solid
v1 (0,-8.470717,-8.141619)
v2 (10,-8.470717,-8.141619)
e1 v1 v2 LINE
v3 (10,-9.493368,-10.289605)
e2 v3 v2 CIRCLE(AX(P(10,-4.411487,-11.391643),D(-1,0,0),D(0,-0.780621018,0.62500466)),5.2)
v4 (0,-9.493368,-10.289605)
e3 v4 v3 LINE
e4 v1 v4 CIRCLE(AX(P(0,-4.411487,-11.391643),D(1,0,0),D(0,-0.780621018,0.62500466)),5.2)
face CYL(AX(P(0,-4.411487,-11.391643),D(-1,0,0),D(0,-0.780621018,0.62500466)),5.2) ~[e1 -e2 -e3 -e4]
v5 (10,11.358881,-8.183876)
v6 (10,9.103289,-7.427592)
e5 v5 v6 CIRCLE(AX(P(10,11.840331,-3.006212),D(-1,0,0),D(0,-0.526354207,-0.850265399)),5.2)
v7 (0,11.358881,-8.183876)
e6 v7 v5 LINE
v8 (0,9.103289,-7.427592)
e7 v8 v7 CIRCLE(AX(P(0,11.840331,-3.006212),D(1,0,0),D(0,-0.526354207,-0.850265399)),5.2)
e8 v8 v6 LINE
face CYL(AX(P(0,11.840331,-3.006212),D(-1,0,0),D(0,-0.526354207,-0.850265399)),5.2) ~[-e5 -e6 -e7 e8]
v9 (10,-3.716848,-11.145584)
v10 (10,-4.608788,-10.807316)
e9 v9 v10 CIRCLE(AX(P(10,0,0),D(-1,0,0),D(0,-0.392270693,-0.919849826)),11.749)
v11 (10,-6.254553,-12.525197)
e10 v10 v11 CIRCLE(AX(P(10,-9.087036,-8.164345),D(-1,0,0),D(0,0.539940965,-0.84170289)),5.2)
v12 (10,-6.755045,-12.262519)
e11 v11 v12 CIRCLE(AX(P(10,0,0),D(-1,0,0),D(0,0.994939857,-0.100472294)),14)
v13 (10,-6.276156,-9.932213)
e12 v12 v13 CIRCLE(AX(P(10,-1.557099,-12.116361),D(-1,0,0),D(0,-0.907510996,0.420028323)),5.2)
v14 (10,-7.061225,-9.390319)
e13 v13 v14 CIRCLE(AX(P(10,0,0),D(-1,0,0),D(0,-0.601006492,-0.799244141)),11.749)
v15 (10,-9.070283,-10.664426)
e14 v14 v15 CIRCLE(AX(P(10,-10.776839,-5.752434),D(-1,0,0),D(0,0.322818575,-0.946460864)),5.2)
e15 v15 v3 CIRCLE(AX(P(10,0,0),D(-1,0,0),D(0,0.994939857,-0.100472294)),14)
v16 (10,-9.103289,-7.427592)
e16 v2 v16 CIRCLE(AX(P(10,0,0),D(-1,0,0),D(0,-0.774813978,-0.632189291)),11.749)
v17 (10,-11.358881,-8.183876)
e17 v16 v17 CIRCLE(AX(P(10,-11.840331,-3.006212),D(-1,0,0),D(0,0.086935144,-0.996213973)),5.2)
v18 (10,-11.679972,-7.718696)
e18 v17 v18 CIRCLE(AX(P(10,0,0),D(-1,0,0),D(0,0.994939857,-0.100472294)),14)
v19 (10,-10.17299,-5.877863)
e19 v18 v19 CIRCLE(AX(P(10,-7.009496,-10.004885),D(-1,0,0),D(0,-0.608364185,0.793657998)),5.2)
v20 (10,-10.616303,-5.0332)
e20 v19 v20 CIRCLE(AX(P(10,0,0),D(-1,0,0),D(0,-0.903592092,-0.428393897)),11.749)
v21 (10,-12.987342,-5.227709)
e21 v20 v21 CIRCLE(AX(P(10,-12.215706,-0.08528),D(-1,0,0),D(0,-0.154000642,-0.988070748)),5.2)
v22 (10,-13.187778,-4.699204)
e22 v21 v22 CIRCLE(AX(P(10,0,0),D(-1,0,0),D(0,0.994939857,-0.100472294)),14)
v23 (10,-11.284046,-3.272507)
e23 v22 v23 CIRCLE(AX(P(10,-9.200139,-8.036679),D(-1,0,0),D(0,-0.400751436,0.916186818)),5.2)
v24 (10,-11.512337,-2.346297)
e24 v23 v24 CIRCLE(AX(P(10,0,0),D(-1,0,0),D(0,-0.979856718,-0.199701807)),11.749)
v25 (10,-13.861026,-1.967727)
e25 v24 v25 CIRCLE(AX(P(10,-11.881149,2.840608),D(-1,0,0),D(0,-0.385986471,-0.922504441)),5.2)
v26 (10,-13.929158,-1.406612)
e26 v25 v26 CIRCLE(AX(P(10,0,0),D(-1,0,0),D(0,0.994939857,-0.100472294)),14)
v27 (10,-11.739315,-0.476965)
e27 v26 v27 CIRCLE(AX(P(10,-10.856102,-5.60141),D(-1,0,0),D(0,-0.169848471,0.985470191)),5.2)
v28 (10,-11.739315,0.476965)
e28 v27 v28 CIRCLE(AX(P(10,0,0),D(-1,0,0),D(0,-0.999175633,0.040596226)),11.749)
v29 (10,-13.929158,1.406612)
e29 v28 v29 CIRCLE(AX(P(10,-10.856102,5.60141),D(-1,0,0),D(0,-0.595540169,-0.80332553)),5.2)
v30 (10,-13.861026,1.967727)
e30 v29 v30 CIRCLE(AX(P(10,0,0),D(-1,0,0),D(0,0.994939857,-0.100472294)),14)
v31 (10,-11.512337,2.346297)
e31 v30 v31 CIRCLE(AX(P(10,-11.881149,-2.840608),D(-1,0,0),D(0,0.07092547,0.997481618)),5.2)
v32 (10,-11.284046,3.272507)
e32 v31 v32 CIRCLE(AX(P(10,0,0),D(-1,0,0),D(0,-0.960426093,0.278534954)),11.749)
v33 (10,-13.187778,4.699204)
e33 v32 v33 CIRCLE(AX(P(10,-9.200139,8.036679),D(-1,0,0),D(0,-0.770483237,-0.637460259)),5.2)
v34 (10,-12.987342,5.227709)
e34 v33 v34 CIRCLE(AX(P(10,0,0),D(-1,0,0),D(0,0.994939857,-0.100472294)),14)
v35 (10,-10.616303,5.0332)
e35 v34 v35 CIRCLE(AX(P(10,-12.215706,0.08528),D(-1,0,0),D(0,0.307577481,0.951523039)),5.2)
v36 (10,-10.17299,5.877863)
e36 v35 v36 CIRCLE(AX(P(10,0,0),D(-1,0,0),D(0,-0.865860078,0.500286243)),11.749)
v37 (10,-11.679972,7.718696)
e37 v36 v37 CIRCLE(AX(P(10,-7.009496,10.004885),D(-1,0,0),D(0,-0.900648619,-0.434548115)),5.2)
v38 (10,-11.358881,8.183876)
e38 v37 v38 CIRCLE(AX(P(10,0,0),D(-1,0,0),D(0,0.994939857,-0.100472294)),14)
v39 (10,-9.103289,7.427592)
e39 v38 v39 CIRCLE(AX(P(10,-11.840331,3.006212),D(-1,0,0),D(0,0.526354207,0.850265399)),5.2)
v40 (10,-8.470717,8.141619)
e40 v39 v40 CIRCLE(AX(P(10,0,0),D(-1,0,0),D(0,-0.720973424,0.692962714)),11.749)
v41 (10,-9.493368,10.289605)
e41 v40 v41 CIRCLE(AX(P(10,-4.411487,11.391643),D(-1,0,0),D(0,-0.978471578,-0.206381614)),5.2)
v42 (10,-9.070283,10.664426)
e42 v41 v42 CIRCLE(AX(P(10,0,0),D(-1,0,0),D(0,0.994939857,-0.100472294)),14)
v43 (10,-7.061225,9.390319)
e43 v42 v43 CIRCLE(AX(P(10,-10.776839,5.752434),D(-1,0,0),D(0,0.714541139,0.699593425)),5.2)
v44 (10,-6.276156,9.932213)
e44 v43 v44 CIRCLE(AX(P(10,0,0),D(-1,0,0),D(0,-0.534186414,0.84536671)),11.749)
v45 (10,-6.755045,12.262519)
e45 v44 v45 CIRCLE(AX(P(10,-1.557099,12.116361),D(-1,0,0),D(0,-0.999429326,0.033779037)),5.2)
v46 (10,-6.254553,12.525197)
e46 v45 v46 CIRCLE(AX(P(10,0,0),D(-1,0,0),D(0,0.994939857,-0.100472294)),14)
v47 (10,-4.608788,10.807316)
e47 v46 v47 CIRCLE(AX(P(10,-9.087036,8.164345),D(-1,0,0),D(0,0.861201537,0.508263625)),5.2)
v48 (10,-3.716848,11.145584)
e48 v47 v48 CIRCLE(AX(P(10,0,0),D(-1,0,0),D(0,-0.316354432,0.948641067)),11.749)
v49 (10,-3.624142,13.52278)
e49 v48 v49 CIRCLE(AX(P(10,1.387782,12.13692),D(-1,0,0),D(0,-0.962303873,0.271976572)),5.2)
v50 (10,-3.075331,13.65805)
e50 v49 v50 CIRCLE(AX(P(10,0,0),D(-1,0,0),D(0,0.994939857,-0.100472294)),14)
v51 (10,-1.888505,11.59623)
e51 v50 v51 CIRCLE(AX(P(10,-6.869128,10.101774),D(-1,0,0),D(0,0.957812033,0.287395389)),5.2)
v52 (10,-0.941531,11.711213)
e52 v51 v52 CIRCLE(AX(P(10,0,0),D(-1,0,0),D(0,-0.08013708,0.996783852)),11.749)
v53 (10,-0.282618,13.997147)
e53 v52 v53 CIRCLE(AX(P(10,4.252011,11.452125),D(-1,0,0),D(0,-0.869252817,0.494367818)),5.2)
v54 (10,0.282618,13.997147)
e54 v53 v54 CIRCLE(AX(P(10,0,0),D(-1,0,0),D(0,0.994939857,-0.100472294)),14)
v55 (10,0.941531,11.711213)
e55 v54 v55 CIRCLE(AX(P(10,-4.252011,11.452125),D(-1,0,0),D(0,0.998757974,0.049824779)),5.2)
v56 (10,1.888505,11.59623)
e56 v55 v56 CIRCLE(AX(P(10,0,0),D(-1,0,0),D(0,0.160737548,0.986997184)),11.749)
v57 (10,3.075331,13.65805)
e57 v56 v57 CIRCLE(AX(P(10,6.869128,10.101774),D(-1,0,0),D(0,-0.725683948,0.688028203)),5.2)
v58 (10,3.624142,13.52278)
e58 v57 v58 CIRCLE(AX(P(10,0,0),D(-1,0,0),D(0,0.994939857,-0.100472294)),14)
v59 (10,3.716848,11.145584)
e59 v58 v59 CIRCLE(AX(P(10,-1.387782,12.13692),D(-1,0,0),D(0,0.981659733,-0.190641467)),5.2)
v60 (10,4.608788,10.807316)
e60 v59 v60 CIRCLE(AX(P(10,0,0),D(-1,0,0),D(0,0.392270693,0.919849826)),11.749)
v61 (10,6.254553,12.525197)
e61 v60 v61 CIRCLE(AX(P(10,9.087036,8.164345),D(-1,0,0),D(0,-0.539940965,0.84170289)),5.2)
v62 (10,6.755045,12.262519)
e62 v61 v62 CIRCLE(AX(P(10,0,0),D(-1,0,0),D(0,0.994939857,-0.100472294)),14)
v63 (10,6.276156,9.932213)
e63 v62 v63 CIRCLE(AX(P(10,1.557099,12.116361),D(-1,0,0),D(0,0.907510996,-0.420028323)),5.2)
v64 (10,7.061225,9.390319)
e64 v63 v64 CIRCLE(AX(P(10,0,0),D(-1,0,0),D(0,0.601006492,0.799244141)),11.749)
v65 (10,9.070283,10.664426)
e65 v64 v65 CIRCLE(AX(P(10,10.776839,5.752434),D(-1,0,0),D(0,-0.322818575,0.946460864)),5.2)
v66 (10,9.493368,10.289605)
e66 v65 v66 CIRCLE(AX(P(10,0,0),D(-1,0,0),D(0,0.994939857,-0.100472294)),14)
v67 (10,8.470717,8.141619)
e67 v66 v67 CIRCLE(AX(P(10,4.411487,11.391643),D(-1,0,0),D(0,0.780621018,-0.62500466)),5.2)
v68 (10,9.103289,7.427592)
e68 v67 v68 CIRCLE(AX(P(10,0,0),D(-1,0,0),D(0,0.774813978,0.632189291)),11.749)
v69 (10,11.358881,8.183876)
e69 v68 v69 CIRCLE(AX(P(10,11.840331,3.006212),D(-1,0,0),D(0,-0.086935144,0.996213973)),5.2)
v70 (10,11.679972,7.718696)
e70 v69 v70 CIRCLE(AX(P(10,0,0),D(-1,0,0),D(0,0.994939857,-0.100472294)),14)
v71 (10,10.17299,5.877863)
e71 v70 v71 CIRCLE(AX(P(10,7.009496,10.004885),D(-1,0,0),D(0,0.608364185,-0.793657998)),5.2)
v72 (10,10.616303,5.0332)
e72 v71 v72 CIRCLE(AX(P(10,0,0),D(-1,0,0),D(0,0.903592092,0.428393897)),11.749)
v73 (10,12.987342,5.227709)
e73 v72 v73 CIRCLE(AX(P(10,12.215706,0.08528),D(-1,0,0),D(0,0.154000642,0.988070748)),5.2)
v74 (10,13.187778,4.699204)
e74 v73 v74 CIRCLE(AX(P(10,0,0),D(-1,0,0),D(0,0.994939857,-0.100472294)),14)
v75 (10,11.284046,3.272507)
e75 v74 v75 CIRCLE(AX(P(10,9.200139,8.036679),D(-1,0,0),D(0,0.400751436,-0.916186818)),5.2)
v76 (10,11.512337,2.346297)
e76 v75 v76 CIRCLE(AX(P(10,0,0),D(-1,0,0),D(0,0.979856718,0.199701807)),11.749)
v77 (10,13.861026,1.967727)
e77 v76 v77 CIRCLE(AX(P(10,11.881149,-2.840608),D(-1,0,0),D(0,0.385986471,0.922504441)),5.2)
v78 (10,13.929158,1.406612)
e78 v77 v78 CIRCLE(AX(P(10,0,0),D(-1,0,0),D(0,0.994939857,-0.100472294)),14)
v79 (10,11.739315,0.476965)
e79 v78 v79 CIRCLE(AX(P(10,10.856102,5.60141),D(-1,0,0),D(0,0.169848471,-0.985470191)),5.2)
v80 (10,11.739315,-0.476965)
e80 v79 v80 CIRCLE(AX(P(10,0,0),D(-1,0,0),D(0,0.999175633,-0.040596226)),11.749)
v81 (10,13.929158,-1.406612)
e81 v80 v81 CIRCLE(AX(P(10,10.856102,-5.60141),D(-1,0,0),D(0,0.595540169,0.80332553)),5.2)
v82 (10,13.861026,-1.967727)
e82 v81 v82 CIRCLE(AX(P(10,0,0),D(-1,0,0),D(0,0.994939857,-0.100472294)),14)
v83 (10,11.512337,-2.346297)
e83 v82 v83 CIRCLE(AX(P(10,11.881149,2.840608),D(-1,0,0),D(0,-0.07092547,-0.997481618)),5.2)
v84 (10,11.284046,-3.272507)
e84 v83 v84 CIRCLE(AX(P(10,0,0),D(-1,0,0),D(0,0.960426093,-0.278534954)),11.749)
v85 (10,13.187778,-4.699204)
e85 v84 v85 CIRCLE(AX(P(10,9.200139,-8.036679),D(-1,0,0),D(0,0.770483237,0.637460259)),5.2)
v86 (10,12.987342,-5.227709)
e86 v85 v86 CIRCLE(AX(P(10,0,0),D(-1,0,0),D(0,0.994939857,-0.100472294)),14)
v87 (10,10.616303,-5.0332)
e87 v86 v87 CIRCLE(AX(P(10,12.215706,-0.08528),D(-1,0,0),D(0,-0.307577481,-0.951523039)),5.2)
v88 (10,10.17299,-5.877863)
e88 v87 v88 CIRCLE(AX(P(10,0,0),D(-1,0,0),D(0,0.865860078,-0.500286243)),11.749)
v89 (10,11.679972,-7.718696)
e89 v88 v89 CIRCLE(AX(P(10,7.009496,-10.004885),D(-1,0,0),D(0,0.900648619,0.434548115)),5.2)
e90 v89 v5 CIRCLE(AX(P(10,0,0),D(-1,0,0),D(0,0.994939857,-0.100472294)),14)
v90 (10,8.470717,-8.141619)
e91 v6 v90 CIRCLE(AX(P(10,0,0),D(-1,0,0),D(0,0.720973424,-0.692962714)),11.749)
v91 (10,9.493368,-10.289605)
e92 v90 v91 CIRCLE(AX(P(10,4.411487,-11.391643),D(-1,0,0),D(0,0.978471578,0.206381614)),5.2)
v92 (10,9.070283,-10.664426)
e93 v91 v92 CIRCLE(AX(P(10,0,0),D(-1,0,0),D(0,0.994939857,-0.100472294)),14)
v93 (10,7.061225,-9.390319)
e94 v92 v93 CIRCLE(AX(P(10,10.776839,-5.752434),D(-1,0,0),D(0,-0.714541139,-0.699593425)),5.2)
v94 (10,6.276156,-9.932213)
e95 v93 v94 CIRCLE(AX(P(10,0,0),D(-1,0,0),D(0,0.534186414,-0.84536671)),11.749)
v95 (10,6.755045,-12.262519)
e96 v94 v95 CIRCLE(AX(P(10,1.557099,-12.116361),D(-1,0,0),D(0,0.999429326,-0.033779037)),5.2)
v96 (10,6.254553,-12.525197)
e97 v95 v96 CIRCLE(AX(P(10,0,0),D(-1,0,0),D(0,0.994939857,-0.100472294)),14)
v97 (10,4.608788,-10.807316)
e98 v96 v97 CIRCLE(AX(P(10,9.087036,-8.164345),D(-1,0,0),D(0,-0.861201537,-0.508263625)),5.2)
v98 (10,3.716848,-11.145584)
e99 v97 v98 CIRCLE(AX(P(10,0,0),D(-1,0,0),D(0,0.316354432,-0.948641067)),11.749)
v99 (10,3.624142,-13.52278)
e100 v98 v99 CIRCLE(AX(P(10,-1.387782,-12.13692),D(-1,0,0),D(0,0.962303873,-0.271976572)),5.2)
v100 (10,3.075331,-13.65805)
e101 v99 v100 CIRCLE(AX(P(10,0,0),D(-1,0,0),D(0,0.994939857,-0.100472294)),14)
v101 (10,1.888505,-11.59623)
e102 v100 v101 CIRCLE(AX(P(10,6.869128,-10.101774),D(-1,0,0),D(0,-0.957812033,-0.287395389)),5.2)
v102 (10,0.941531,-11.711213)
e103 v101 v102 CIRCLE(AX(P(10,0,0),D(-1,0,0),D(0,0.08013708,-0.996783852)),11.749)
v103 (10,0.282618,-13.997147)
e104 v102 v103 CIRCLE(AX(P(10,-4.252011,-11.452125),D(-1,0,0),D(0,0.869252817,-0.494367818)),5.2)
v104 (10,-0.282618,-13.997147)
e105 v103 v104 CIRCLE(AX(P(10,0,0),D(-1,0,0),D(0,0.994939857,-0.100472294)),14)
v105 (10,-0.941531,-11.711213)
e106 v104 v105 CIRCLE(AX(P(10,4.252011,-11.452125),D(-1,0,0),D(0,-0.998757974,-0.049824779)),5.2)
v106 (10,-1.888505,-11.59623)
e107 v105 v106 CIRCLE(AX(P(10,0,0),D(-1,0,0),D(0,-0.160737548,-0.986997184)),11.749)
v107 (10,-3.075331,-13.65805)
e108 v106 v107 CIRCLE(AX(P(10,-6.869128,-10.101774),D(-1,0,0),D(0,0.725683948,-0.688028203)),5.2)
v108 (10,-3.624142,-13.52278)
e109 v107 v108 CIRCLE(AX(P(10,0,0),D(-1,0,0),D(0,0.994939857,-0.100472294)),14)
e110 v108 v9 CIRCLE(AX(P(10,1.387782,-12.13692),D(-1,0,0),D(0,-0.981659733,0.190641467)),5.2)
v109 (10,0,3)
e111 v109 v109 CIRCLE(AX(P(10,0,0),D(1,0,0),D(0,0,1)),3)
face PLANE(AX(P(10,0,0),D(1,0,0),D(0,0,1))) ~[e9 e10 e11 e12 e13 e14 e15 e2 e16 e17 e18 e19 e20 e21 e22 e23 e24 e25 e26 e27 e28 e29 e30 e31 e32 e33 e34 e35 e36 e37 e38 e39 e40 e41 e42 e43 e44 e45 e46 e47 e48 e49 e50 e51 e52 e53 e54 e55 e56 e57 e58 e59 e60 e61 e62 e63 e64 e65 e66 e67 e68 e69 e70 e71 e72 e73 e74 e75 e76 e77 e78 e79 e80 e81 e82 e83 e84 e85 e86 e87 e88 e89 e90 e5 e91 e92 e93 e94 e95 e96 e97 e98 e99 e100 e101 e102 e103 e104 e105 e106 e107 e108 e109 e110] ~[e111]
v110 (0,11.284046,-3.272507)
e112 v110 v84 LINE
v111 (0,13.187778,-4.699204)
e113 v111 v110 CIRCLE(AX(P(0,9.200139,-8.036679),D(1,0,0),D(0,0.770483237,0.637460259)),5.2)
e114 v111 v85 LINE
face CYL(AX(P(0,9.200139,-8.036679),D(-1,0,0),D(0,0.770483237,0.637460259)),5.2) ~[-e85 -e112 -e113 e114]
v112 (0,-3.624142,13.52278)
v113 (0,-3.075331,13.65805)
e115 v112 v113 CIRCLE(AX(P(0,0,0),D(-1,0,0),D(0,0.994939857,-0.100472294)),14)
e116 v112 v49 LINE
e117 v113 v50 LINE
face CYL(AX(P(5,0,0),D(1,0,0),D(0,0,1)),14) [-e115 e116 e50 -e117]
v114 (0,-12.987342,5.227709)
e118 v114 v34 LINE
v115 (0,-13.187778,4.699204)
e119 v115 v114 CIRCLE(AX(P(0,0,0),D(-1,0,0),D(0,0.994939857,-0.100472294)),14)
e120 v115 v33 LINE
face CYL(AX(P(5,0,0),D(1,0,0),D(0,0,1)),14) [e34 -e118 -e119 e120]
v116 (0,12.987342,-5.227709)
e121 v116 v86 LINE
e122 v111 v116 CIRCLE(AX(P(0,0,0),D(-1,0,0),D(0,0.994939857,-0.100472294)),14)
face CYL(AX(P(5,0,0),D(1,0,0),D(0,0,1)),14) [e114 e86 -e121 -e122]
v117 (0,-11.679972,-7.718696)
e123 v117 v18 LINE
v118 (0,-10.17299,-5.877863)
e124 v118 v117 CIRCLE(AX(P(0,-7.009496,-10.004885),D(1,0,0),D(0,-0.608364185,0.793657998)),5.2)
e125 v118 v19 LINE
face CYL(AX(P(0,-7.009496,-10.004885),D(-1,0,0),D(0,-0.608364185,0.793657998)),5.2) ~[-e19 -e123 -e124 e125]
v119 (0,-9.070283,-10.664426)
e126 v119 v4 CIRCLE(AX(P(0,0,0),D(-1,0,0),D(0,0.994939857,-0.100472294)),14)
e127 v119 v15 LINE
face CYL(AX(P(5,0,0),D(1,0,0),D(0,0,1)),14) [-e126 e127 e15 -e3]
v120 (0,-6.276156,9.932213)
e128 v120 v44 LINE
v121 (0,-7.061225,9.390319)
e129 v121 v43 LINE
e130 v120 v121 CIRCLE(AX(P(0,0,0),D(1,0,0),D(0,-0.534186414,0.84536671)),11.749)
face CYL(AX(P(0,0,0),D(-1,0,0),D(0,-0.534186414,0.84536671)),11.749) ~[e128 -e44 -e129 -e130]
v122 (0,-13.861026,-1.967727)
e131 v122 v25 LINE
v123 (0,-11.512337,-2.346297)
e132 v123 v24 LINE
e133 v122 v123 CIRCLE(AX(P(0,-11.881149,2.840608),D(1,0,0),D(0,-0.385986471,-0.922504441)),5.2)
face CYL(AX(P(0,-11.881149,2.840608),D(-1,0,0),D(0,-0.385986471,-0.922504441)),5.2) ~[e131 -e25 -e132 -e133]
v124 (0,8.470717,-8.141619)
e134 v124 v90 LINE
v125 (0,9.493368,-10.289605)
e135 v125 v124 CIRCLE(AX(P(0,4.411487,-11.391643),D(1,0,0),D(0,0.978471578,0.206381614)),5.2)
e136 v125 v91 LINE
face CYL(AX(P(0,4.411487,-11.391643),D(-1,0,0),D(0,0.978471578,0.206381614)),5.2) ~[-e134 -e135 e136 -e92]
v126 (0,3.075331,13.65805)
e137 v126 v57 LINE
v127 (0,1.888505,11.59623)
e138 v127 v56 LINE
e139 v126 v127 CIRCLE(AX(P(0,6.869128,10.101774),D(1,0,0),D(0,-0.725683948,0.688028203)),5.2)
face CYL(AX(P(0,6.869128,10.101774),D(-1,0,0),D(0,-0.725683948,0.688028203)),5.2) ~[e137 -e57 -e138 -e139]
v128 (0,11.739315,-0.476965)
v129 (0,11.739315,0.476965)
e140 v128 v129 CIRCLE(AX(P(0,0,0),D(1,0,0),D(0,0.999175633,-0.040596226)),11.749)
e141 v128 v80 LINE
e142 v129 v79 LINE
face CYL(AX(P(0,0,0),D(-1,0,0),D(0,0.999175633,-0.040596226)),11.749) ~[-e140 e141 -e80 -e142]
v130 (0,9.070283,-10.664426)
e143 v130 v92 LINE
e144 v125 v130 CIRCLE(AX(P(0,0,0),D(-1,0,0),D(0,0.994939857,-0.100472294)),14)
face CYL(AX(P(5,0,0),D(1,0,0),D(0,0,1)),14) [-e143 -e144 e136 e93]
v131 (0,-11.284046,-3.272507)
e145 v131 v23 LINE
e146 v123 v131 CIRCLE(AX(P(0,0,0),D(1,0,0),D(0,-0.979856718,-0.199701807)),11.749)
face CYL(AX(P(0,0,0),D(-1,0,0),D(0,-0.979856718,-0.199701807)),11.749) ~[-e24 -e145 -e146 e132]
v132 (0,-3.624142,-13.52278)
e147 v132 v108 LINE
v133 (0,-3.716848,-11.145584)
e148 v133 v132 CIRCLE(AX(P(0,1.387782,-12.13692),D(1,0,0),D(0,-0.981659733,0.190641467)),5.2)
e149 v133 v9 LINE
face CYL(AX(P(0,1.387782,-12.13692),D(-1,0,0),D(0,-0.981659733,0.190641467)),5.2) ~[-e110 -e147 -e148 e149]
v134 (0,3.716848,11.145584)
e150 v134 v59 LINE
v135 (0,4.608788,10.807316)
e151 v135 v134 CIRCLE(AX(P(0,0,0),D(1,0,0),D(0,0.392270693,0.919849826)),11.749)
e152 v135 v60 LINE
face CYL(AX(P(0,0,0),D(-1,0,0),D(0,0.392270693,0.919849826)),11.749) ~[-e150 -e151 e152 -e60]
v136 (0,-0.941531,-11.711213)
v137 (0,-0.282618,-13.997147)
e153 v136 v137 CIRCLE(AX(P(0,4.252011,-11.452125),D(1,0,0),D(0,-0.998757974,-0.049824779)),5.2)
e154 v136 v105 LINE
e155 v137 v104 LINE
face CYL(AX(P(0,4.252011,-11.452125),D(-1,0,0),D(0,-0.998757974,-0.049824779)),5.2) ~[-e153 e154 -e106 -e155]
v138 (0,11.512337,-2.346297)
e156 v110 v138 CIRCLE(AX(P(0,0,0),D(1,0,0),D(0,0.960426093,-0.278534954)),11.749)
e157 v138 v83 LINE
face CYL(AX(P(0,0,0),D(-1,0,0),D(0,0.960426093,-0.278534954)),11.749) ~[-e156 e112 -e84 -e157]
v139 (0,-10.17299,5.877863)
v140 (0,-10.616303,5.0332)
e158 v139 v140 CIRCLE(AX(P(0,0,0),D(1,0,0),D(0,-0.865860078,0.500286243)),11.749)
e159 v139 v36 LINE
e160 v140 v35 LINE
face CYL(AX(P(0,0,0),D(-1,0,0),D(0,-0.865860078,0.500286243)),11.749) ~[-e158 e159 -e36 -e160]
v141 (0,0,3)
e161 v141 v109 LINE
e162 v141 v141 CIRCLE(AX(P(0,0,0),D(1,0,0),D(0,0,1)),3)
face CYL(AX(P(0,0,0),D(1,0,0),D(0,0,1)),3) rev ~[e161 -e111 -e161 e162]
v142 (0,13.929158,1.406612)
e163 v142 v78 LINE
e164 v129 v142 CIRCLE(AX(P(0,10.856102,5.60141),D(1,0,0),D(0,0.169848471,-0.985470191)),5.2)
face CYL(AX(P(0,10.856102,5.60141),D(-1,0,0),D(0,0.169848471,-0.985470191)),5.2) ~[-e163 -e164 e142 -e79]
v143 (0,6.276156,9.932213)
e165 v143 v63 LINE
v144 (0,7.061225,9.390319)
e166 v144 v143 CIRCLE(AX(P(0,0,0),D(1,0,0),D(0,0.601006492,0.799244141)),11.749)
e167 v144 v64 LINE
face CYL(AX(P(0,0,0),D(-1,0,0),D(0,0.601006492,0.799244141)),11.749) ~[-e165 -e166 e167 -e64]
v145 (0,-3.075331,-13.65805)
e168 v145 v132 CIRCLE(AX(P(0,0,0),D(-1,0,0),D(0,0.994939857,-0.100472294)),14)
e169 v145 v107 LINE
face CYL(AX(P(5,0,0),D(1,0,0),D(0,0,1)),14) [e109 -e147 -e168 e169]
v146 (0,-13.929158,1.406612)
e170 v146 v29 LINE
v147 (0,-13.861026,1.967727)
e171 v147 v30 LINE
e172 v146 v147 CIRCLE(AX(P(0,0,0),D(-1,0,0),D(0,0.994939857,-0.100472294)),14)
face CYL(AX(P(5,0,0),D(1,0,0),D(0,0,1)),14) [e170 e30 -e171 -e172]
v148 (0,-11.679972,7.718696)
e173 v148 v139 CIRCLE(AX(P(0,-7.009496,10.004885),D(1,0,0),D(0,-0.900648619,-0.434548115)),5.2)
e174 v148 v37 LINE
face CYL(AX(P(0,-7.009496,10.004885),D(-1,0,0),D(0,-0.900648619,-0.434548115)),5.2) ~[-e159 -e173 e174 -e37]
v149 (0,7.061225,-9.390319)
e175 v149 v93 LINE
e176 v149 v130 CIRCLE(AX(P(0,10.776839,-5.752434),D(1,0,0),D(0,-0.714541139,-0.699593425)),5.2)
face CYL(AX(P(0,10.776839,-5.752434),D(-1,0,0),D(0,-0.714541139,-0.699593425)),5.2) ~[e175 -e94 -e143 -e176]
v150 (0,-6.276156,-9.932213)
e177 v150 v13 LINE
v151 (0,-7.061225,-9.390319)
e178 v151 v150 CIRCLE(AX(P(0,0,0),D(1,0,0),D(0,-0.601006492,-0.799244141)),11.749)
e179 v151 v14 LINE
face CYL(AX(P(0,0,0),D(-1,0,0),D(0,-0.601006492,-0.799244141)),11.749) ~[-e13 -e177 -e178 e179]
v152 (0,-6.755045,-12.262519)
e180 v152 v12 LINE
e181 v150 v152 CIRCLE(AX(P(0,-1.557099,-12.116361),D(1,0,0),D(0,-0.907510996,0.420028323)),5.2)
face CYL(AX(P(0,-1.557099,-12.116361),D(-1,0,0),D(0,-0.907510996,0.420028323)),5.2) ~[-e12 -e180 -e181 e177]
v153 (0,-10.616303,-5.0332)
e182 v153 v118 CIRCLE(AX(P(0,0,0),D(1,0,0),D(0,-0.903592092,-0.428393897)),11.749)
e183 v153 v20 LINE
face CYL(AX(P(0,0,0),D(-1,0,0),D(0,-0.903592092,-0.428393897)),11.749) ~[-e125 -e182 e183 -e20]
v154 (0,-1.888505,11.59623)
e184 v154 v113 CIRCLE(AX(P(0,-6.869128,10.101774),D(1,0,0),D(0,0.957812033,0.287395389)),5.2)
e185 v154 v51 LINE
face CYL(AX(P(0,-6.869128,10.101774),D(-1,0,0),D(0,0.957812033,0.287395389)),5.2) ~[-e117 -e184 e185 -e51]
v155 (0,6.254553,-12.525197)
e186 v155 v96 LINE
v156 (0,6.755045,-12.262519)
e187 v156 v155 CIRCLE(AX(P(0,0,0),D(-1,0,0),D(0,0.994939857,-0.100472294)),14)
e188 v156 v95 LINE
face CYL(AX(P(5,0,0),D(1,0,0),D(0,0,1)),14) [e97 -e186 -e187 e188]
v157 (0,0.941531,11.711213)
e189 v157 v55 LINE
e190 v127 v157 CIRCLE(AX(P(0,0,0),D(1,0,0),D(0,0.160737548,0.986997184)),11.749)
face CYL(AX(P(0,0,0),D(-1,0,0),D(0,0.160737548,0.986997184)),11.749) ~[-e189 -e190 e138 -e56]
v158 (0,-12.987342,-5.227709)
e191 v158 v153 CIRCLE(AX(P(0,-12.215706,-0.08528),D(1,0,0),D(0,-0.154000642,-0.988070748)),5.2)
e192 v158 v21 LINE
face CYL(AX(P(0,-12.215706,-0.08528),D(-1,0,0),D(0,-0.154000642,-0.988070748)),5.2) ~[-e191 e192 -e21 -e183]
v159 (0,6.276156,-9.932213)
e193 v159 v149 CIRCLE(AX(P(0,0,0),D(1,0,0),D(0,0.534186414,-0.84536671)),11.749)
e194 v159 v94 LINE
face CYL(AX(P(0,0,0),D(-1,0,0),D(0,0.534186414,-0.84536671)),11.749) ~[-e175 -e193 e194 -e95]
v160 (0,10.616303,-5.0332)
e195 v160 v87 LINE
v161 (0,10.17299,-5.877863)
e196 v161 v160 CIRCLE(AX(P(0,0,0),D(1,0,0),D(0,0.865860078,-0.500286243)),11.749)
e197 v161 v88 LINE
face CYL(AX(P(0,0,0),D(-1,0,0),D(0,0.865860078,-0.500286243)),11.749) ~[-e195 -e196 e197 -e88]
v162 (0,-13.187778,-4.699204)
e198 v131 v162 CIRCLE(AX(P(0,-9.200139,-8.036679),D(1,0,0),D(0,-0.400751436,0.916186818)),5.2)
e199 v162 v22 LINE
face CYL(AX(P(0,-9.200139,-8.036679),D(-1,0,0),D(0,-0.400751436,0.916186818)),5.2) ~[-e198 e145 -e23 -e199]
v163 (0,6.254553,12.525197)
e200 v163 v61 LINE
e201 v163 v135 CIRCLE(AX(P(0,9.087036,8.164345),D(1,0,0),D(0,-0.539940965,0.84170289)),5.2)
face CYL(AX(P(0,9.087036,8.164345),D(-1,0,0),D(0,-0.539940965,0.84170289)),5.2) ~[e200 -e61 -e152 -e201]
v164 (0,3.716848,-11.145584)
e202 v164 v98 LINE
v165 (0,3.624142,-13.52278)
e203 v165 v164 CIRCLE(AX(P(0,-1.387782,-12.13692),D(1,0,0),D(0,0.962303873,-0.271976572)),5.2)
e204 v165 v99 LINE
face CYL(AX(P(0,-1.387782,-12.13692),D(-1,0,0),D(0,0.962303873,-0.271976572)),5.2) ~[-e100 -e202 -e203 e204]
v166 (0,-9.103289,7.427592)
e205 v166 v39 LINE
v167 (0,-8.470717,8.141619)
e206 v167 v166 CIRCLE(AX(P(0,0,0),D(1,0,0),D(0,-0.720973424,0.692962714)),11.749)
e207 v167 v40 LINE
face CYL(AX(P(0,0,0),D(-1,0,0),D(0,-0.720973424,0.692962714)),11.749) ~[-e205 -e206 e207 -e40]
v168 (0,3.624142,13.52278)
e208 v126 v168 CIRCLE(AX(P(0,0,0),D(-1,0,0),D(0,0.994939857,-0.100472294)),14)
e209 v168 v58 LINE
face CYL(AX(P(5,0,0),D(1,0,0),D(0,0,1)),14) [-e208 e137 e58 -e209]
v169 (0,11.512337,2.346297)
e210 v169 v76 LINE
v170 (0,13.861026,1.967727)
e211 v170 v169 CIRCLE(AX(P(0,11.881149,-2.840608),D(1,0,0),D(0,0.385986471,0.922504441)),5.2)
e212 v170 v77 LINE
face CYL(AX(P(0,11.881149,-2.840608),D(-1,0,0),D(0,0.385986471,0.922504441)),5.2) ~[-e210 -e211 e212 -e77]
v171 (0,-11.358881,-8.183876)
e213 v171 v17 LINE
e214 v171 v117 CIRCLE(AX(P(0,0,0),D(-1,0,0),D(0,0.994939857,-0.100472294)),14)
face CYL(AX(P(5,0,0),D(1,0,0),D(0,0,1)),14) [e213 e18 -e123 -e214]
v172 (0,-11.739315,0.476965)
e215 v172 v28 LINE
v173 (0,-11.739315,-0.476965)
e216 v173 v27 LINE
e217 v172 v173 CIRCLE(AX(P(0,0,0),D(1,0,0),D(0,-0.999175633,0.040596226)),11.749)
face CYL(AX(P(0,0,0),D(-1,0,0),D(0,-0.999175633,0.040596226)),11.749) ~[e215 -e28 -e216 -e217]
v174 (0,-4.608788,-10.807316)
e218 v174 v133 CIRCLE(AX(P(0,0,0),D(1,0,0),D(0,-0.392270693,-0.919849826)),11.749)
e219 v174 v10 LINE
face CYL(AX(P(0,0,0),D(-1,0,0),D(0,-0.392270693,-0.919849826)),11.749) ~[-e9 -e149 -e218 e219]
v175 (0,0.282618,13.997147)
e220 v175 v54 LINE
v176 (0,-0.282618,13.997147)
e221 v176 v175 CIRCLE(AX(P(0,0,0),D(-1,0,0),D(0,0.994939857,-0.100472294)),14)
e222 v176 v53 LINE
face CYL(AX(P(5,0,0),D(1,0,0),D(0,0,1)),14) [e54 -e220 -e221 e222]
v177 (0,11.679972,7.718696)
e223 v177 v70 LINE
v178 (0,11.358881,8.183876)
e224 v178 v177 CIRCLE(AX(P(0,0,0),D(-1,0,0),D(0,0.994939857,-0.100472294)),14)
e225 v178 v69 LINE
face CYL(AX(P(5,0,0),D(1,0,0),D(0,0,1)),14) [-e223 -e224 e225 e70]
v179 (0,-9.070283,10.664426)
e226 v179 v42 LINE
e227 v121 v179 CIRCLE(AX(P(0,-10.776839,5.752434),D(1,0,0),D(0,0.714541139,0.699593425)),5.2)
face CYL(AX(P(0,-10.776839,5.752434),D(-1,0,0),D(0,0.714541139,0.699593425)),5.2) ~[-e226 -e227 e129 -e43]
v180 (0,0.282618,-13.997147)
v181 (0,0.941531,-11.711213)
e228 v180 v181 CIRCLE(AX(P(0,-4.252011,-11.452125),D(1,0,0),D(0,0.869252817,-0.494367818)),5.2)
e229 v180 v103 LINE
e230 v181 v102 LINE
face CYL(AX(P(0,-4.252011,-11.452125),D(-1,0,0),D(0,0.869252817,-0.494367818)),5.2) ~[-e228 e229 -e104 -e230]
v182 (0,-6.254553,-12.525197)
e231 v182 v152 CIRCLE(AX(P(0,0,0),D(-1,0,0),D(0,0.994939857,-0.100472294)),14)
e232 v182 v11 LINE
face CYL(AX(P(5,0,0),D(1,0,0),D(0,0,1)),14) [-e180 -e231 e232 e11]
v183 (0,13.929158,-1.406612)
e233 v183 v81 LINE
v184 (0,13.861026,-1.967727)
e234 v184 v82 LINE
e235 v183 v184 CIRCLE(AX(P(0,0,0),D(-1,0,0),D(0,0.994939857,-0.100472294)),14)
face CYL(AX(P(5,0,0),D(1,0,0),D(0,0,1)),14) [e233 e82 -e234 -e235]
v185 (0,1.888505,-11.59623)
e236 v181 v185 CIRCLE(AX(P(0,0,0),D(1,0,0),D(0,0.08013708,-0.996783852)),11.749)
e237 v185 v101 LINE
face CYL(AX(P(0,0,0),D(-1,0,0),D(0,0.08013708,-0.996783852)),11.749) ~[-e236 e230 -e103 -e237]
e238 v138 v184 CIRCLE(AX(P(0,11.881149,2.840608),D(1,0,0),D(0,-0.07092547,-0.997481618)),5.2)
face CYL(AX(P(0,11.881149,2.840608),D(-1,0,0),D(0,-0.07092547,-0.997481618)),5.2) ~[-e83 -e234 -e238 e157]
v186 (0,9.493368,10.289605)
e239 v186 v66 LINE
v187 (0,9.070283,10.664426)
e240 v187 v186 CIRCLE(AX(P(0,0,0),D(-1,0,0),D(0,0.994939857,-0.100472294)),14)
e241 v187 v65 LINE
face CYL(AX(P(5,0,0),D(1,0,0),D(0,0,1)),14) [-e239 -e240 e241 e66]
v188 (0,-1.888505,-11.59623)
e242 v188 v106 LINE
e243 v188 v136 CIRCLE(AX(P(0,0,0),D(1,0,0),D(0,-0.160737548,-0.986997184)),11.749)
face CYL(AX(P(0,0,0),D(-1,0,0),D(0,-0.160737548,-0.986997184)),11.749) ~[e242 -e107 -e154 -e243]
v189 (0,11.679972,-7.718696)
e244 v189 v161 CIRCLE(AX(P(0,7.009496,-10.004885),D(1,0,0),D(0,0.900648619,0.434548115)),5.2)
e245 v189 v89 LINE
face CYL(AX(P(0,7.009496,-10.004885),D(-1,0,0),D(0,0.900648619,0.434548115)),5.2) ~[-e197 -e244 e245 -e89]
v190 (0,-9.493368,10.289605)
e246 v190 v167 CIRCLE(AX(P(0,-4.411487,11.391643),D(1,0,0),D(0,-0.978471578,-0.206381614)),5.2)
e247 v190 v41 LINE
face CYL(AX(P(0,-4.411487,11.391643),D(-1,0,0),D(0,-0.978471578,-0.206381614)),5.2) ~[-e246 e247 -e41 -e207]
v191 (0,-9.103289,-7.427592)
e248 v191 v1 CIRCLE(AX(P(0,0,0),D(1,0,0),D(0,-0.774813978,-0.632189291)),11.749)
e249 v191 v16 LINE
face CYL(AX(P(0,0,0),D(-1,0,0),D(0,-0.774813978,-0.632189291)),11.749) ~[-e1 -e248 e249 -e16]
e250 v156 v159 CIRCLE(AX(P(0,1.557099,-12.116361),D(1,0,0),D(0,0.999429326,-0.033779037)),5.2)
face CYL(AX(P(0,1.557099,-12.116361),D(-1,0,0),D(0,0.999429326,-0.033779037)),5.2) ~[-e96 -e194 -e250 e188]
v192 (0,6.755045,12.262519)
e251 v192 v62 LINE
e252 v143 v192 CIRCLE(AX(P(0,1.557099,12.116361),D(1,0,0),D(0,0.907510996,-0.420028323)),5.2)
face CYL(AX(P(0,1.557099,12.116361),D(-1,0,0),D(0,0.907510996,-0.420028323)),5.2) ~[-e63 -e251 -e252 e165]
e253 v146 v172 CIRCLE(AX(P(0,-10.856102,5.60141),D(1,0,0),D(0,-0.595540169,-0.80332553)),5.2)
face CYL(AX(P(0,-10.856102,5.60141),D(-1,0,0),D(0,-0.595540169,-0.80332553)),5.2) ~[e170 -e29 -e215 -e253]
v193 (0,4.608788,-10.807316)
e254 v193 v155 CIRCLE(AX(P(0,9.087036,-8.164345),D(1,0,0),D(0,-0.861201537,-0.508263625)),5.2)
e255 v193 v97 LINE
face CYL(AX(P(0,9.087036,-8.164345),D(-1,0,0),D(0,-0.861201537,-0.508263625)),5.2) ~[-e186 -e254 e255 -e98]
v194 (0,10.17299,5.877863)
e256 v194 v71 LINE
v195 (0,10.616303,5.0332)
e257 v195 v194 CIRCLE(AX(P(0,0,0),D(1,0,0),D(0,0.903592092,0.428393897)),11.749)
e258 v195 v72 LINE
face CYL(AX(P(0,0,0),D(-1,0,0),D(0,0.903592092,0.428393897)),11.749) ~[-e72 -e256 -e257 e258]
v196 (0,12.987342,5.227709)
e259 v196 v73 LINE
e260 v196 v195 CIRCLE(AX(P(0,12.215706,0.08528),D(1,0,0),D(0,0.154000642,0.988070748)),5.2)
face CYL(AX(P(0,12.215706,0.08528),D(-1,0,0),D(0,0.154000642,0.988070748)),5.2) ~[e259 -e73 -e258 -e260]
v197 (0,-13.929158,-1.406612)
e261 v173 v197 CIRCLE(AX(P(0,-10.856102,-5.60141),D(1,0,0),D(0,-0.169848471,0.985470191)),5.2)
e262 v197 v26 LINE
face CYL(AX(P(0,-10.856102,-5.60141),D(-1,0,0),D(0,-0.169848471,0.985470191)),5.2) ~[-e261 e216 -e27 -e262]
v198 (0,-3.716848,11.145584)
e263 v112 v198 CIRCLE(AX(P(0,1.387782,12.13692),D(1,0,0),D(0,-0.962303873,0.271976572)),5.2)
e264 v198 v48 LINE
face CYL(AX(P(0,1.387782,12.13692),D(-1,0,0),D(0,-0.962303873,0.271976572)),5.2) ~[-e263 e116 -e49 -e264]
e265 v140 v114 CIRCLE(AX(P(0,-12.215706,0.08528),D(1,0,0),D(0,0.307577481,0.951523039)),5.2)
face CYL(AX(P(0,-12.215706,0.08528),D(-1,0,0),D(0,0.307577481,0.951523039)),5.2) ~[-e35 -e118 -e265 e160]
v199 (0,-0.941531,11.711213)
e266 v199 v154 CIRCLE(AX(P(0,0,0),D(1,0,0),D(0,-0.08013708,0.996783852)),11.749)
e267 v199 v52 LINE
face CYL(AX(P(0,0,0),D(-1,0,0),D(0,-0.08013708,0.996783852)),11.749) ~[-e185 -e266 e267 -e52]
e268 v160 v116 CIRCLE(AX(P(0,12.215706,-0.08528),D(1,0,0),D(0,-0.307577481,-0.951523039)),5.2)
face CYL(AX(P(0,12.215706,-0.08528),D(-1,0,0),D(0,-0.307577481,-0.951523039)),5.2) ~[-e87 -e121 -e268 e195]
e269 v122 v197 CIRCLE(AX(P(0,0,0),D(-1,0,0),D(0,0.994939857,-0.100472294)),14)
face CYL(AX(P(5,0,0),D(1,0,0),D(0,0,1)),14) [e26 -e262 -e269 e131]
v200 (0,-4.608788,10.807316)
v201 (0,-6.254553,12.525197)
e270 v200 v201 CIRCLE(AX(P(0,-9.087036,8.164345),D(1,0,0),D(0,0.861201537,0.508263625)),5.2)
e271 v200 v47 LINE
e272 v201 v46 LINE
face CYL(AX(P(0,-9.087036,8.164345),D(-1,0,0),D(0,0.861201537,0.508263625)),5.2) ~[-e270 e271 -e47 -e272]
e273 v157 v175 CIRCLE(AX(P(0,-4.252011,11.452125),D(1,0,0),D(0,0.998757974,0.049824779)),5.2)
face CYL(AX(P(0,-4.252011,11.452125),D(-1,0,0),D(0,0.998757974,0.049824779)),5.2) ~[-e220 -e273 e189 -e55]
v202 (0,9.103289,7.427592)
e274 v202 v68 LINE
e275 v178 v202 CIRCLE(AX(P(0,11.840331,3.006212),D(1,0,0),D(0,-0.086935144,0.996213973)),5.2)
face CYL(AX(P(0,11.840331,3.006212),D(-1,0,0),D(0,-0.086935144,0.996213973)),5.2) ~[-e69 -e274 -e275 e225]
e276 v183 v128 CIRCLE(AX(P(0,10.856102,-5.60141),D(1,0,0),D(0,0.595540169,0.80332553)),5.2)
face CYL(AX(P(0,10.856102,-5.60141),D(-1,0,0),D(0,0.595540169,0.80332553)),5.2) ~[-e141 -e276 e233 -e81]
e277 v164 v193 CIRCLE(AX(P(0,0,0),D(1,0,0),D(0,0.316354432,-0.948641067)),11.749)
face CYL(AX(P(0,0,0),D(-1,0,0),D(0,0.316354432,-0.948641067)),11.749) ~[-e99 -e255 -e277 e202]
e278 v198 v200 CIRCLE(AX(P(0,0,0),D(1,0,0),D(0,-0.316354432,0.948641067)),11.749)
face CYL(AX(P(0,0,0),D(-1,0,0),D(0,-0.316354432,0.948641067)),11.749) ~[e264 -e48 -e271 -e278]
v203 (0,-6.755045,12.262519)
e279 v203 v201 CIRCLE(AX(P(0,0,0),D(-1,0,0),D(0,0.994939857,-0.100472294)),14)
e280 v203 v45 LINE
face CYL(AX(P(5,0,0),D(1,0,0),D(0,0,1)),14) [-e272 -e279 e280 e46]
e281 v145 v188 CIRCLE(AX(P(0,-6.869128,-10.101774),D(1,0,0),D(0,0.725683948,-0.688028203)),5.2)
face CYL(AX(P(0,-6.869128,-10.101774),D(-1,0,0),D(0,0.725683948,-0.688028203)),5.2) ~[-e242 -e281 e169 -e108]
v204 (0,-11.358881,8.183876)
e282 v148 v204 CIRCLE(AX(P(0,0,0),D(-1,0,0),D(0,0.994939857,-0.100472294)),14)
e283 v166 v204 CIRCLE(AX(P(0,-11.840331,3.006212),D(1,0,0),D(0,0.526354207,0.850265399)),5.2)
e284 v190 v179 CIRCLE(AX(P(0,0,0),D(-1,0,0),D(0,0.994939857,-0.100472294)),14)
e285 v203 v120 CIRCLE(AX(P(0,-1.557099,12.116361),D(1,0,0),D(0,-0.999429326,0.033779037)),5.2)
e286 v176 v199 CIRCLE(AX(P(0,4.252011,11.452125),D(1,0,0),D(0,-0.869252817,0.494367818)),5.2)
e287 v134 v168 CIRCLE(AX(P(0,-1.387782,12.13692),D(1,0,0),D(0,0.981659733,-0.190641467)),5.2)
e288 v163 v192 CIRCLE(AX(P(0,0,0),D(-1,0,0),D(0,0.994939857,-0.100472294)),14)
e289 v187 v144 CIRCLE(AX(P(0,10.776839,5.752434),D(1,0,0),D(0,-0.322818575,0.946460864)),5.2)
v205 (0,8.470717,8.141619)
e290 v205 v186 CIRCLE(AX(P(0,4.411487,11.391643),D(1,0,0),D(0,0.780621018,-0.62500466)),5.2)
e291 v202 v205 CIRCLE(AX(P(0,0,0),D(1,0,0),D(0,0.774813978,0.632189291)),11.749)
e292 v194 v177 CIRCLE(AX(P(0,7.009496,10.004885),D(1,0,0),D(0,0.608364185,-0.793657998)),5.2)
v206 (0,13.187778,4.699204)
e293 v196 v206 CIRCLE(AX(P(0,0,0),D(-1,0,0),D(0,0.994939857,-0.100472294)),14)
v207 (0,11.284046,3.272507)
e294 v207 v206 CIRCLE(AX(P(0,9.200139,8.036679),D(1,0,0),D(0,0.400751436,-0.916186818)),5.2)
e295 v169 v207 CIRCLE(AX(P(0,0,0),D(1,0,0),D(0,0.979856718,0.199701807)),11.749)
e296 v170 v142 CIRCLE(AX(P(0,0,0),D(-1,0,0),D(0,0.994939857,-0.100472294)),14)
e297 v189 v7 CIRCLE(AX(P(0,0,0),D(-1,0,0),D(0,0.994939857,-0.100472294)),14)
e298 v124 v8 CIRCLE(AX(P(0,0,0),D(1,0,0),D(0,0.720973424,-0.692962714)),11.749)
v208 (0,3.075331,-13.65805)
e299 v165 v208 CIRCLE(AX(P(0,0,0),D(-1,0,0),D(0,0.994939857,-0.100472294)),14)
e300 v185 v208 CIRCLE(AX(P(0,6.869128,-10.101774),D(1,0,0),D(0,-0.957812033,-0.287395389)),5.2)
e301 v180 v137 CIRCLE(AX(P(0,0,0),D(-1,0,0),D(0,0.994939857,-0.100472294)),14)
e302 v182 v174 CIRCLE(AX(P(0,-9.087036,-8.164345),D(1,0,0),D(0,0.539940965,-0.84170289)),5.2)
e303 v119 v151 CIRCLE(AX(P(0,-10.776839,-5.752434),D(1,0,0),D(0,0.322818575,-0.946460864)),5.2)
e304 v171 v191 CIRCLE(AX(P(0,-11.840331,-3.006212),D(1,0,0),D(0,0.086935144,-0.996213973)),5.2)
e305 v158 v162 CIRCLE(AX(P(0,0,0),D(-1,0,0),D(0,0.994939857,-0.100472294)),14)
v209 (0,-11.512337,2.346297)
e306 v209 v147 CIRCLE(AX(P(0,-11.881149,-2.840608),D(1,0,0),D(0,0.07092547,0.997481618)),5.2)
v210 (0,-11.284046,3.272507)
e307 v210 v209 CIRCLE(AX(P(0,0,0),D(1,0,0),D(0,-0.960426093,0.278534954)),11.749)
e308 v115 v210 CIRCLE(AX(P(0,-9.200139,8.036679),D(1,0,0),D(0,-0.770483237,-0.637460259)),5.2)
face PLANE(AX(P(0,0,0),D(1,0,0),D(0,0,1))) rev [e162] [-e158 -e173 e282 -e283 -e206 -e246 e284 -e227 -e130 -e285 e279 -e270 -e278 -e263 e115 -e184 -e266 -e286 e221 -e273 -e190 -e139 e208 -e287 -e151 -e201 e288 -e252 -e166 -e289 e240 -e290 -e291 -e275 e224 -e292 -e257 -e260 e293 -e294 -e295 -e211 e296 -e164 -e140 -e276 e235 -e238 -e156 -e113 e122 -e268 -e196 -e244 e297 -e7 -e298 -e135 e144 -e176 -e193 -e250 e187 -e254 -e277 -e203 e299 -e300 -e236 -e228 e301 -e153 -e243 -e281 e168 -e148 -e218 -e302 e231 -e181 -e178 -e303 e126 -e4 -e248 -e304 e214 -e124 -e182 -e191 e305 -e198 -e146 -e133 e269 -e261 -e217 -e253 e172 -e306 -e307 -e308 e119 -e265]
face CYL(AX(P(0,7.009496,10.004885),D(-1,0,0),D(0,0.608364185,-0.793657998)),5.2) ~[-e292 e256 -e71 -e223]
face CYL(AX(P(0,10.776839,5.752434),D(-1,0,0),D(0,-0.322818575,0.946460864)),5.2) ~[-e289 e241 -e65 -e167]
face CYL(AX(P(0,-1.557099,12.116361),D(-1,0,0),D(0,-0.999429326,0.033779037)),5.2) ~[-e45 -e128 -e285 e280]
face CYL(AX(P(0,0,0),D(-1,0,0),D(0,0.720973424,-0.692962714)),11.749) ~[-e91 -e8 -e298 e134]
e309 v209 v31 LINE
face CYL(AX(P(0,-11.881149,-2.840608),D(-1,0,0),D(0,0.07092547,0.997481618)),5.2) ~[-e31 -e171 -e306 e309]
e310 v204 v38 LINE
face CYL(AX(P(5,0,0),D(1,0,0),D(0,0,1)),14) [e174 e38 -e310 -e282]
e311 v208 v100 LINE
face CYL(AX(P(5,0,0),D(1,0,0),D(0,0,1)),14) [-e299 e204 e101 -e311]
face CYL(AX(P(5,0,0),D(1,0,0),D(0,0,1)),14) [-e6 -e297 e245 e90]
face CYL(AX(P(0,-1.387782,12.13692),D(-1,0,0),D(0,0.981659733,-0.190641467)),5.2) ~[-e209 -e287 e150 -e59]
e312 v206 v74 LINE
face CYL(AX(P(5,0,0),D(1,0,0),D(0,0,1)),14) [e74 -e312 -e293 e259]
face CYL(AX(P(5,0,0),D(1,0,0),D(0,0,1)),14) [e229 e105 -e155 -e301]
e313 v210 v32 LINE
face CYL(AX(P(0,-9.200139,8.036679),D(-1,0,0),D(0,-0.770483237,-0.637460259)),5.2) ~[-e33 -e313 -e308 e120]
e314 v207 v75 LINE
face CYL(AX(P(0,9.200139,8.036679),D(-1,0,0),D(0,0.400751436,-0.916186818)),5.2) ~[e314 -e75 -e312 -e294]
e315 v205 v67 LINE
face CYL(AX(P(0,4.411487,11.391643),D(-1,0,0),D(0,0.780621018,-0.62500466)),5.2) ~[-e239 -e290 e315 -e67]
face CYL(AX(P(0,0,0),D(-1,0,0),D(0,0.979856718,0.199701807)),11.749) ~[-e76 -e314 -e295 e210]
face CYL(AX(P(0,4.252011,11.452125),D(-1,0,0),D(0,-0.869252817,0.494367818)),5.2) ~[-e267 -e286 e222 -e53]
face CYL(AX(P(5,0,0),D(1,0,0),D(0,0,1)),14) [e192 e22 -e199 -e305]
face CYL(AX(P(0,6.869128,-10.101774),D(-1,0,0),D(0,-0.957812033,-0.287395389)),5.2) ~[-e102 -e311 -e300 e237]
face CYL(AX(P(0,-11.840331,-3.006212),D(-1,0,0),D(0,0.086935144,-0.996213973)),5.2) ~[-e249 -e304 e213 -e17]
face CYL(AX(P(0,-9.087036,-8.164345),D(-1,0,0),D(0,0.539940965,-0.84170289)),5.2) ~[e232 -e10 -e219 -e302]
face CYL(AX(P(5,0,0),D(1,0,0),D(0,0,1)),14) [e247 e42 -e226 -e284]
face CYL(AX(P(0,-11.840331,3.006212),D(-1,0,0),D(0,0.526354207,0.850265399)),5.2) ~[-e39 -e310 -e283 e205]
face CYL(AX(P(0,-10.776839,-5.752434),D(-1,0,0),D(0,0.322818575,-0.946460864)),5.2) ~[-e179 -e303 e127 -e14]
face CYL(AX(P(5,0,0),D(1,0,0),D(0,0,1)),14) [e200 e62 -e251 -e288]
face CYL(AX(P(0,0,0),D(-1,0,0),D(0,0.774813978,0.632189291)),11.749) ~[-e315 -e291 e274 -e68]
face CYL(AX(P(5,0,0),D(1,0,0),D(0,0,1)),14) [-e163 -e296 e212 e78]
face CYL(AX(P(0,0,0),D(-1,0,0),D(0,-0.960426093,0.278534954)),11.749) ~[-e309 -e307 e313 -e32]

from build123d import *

# Parameters (mm, degrees)
BASPROSKE_W     = 10
BASPROSKE_H     = 14
TOOTHCUT_DEPTH  = 23.181073013
TEETHCUTS_COUNT = 26
TEETHCUTS_ANGLE = 346.153846154
BORSKE_R        = 3
BORE_DEPTH      = 50.0000508


with BuildPart() as part:
    # BasProSke → Base-Revolve (revolve)
    with BuildSketch(Plane(origin=(0, 0, 0), x_dir=(1, 0, 0), z_dir=(0, 1, 0)), mode=Mode.PRIVATE) as base_revolve_sk:
        with Locations((5, 7)):
            Rectangle(BASPROSKE_W, BASPROSKE_H)
    revolve(base_revolve_sk.sketch.rotate(Axis((-10, 0, 0), (1, 0, 0)), 180), axis=Axis((-10, 0, 0), (1, 0, 0)))

    # TooCutSke → ToothCut (cut, through all)
    with BuildSketch(Plane(origin=(0, 0, 0), x_dir=(0, 0, -1), z_dir=(1, 0, 0))):
        with BuildLine():
            ThreePointArc((0.476965065, 11.739314517), (0, 11.749), (-0.476965065, 11.739314517))
            ThreePointArc((-0.476965065, 11.739314517), (-0.82065865, 12.901686978), (-1.424117301, 13.952911348))
            ThreePointArc((-1.424117301, 13.952911348), (0, 14.0254), (1.424117301, 13.952911348))
            ThreePointArc((1.424117301, 13.952911348), (0.82065865, 12.901686978), (0.476965065, 11.739314517))
        make_face()
    toothcut = extrude(amount=TOOTHCUT_DEPTH, mode=Mode.SUBTRACT)

    # TeethCuts: ToothCut ×26 about axis
    teethcuts_axis = Axis((-10, 0, 0), (1, 0, 0))
    for i in range(1, TEETHCUTS_COUNT):
        add(toothcut.rotate(teethcuts_axis, i * TEETHCUTS_ANGLE / (TEETHCUTS_COUNT - 1)), mode=Mode.SUBTRACT)

    # BorSke → Bore (cut, symmetric)
    with BuildSketch(Plane(origin=(0, 0, 0), x_dir=(0, 0, -1), z_dir=(1, 0, 0))):
        with Locations(Location((0, 0, 0), (0, 0, 180))):
            Circle(BORSKE_R)
    extrude(amount=BORE_DEPTH, both=True, mode=Mode.SUBTRACT)


solid = part.part
